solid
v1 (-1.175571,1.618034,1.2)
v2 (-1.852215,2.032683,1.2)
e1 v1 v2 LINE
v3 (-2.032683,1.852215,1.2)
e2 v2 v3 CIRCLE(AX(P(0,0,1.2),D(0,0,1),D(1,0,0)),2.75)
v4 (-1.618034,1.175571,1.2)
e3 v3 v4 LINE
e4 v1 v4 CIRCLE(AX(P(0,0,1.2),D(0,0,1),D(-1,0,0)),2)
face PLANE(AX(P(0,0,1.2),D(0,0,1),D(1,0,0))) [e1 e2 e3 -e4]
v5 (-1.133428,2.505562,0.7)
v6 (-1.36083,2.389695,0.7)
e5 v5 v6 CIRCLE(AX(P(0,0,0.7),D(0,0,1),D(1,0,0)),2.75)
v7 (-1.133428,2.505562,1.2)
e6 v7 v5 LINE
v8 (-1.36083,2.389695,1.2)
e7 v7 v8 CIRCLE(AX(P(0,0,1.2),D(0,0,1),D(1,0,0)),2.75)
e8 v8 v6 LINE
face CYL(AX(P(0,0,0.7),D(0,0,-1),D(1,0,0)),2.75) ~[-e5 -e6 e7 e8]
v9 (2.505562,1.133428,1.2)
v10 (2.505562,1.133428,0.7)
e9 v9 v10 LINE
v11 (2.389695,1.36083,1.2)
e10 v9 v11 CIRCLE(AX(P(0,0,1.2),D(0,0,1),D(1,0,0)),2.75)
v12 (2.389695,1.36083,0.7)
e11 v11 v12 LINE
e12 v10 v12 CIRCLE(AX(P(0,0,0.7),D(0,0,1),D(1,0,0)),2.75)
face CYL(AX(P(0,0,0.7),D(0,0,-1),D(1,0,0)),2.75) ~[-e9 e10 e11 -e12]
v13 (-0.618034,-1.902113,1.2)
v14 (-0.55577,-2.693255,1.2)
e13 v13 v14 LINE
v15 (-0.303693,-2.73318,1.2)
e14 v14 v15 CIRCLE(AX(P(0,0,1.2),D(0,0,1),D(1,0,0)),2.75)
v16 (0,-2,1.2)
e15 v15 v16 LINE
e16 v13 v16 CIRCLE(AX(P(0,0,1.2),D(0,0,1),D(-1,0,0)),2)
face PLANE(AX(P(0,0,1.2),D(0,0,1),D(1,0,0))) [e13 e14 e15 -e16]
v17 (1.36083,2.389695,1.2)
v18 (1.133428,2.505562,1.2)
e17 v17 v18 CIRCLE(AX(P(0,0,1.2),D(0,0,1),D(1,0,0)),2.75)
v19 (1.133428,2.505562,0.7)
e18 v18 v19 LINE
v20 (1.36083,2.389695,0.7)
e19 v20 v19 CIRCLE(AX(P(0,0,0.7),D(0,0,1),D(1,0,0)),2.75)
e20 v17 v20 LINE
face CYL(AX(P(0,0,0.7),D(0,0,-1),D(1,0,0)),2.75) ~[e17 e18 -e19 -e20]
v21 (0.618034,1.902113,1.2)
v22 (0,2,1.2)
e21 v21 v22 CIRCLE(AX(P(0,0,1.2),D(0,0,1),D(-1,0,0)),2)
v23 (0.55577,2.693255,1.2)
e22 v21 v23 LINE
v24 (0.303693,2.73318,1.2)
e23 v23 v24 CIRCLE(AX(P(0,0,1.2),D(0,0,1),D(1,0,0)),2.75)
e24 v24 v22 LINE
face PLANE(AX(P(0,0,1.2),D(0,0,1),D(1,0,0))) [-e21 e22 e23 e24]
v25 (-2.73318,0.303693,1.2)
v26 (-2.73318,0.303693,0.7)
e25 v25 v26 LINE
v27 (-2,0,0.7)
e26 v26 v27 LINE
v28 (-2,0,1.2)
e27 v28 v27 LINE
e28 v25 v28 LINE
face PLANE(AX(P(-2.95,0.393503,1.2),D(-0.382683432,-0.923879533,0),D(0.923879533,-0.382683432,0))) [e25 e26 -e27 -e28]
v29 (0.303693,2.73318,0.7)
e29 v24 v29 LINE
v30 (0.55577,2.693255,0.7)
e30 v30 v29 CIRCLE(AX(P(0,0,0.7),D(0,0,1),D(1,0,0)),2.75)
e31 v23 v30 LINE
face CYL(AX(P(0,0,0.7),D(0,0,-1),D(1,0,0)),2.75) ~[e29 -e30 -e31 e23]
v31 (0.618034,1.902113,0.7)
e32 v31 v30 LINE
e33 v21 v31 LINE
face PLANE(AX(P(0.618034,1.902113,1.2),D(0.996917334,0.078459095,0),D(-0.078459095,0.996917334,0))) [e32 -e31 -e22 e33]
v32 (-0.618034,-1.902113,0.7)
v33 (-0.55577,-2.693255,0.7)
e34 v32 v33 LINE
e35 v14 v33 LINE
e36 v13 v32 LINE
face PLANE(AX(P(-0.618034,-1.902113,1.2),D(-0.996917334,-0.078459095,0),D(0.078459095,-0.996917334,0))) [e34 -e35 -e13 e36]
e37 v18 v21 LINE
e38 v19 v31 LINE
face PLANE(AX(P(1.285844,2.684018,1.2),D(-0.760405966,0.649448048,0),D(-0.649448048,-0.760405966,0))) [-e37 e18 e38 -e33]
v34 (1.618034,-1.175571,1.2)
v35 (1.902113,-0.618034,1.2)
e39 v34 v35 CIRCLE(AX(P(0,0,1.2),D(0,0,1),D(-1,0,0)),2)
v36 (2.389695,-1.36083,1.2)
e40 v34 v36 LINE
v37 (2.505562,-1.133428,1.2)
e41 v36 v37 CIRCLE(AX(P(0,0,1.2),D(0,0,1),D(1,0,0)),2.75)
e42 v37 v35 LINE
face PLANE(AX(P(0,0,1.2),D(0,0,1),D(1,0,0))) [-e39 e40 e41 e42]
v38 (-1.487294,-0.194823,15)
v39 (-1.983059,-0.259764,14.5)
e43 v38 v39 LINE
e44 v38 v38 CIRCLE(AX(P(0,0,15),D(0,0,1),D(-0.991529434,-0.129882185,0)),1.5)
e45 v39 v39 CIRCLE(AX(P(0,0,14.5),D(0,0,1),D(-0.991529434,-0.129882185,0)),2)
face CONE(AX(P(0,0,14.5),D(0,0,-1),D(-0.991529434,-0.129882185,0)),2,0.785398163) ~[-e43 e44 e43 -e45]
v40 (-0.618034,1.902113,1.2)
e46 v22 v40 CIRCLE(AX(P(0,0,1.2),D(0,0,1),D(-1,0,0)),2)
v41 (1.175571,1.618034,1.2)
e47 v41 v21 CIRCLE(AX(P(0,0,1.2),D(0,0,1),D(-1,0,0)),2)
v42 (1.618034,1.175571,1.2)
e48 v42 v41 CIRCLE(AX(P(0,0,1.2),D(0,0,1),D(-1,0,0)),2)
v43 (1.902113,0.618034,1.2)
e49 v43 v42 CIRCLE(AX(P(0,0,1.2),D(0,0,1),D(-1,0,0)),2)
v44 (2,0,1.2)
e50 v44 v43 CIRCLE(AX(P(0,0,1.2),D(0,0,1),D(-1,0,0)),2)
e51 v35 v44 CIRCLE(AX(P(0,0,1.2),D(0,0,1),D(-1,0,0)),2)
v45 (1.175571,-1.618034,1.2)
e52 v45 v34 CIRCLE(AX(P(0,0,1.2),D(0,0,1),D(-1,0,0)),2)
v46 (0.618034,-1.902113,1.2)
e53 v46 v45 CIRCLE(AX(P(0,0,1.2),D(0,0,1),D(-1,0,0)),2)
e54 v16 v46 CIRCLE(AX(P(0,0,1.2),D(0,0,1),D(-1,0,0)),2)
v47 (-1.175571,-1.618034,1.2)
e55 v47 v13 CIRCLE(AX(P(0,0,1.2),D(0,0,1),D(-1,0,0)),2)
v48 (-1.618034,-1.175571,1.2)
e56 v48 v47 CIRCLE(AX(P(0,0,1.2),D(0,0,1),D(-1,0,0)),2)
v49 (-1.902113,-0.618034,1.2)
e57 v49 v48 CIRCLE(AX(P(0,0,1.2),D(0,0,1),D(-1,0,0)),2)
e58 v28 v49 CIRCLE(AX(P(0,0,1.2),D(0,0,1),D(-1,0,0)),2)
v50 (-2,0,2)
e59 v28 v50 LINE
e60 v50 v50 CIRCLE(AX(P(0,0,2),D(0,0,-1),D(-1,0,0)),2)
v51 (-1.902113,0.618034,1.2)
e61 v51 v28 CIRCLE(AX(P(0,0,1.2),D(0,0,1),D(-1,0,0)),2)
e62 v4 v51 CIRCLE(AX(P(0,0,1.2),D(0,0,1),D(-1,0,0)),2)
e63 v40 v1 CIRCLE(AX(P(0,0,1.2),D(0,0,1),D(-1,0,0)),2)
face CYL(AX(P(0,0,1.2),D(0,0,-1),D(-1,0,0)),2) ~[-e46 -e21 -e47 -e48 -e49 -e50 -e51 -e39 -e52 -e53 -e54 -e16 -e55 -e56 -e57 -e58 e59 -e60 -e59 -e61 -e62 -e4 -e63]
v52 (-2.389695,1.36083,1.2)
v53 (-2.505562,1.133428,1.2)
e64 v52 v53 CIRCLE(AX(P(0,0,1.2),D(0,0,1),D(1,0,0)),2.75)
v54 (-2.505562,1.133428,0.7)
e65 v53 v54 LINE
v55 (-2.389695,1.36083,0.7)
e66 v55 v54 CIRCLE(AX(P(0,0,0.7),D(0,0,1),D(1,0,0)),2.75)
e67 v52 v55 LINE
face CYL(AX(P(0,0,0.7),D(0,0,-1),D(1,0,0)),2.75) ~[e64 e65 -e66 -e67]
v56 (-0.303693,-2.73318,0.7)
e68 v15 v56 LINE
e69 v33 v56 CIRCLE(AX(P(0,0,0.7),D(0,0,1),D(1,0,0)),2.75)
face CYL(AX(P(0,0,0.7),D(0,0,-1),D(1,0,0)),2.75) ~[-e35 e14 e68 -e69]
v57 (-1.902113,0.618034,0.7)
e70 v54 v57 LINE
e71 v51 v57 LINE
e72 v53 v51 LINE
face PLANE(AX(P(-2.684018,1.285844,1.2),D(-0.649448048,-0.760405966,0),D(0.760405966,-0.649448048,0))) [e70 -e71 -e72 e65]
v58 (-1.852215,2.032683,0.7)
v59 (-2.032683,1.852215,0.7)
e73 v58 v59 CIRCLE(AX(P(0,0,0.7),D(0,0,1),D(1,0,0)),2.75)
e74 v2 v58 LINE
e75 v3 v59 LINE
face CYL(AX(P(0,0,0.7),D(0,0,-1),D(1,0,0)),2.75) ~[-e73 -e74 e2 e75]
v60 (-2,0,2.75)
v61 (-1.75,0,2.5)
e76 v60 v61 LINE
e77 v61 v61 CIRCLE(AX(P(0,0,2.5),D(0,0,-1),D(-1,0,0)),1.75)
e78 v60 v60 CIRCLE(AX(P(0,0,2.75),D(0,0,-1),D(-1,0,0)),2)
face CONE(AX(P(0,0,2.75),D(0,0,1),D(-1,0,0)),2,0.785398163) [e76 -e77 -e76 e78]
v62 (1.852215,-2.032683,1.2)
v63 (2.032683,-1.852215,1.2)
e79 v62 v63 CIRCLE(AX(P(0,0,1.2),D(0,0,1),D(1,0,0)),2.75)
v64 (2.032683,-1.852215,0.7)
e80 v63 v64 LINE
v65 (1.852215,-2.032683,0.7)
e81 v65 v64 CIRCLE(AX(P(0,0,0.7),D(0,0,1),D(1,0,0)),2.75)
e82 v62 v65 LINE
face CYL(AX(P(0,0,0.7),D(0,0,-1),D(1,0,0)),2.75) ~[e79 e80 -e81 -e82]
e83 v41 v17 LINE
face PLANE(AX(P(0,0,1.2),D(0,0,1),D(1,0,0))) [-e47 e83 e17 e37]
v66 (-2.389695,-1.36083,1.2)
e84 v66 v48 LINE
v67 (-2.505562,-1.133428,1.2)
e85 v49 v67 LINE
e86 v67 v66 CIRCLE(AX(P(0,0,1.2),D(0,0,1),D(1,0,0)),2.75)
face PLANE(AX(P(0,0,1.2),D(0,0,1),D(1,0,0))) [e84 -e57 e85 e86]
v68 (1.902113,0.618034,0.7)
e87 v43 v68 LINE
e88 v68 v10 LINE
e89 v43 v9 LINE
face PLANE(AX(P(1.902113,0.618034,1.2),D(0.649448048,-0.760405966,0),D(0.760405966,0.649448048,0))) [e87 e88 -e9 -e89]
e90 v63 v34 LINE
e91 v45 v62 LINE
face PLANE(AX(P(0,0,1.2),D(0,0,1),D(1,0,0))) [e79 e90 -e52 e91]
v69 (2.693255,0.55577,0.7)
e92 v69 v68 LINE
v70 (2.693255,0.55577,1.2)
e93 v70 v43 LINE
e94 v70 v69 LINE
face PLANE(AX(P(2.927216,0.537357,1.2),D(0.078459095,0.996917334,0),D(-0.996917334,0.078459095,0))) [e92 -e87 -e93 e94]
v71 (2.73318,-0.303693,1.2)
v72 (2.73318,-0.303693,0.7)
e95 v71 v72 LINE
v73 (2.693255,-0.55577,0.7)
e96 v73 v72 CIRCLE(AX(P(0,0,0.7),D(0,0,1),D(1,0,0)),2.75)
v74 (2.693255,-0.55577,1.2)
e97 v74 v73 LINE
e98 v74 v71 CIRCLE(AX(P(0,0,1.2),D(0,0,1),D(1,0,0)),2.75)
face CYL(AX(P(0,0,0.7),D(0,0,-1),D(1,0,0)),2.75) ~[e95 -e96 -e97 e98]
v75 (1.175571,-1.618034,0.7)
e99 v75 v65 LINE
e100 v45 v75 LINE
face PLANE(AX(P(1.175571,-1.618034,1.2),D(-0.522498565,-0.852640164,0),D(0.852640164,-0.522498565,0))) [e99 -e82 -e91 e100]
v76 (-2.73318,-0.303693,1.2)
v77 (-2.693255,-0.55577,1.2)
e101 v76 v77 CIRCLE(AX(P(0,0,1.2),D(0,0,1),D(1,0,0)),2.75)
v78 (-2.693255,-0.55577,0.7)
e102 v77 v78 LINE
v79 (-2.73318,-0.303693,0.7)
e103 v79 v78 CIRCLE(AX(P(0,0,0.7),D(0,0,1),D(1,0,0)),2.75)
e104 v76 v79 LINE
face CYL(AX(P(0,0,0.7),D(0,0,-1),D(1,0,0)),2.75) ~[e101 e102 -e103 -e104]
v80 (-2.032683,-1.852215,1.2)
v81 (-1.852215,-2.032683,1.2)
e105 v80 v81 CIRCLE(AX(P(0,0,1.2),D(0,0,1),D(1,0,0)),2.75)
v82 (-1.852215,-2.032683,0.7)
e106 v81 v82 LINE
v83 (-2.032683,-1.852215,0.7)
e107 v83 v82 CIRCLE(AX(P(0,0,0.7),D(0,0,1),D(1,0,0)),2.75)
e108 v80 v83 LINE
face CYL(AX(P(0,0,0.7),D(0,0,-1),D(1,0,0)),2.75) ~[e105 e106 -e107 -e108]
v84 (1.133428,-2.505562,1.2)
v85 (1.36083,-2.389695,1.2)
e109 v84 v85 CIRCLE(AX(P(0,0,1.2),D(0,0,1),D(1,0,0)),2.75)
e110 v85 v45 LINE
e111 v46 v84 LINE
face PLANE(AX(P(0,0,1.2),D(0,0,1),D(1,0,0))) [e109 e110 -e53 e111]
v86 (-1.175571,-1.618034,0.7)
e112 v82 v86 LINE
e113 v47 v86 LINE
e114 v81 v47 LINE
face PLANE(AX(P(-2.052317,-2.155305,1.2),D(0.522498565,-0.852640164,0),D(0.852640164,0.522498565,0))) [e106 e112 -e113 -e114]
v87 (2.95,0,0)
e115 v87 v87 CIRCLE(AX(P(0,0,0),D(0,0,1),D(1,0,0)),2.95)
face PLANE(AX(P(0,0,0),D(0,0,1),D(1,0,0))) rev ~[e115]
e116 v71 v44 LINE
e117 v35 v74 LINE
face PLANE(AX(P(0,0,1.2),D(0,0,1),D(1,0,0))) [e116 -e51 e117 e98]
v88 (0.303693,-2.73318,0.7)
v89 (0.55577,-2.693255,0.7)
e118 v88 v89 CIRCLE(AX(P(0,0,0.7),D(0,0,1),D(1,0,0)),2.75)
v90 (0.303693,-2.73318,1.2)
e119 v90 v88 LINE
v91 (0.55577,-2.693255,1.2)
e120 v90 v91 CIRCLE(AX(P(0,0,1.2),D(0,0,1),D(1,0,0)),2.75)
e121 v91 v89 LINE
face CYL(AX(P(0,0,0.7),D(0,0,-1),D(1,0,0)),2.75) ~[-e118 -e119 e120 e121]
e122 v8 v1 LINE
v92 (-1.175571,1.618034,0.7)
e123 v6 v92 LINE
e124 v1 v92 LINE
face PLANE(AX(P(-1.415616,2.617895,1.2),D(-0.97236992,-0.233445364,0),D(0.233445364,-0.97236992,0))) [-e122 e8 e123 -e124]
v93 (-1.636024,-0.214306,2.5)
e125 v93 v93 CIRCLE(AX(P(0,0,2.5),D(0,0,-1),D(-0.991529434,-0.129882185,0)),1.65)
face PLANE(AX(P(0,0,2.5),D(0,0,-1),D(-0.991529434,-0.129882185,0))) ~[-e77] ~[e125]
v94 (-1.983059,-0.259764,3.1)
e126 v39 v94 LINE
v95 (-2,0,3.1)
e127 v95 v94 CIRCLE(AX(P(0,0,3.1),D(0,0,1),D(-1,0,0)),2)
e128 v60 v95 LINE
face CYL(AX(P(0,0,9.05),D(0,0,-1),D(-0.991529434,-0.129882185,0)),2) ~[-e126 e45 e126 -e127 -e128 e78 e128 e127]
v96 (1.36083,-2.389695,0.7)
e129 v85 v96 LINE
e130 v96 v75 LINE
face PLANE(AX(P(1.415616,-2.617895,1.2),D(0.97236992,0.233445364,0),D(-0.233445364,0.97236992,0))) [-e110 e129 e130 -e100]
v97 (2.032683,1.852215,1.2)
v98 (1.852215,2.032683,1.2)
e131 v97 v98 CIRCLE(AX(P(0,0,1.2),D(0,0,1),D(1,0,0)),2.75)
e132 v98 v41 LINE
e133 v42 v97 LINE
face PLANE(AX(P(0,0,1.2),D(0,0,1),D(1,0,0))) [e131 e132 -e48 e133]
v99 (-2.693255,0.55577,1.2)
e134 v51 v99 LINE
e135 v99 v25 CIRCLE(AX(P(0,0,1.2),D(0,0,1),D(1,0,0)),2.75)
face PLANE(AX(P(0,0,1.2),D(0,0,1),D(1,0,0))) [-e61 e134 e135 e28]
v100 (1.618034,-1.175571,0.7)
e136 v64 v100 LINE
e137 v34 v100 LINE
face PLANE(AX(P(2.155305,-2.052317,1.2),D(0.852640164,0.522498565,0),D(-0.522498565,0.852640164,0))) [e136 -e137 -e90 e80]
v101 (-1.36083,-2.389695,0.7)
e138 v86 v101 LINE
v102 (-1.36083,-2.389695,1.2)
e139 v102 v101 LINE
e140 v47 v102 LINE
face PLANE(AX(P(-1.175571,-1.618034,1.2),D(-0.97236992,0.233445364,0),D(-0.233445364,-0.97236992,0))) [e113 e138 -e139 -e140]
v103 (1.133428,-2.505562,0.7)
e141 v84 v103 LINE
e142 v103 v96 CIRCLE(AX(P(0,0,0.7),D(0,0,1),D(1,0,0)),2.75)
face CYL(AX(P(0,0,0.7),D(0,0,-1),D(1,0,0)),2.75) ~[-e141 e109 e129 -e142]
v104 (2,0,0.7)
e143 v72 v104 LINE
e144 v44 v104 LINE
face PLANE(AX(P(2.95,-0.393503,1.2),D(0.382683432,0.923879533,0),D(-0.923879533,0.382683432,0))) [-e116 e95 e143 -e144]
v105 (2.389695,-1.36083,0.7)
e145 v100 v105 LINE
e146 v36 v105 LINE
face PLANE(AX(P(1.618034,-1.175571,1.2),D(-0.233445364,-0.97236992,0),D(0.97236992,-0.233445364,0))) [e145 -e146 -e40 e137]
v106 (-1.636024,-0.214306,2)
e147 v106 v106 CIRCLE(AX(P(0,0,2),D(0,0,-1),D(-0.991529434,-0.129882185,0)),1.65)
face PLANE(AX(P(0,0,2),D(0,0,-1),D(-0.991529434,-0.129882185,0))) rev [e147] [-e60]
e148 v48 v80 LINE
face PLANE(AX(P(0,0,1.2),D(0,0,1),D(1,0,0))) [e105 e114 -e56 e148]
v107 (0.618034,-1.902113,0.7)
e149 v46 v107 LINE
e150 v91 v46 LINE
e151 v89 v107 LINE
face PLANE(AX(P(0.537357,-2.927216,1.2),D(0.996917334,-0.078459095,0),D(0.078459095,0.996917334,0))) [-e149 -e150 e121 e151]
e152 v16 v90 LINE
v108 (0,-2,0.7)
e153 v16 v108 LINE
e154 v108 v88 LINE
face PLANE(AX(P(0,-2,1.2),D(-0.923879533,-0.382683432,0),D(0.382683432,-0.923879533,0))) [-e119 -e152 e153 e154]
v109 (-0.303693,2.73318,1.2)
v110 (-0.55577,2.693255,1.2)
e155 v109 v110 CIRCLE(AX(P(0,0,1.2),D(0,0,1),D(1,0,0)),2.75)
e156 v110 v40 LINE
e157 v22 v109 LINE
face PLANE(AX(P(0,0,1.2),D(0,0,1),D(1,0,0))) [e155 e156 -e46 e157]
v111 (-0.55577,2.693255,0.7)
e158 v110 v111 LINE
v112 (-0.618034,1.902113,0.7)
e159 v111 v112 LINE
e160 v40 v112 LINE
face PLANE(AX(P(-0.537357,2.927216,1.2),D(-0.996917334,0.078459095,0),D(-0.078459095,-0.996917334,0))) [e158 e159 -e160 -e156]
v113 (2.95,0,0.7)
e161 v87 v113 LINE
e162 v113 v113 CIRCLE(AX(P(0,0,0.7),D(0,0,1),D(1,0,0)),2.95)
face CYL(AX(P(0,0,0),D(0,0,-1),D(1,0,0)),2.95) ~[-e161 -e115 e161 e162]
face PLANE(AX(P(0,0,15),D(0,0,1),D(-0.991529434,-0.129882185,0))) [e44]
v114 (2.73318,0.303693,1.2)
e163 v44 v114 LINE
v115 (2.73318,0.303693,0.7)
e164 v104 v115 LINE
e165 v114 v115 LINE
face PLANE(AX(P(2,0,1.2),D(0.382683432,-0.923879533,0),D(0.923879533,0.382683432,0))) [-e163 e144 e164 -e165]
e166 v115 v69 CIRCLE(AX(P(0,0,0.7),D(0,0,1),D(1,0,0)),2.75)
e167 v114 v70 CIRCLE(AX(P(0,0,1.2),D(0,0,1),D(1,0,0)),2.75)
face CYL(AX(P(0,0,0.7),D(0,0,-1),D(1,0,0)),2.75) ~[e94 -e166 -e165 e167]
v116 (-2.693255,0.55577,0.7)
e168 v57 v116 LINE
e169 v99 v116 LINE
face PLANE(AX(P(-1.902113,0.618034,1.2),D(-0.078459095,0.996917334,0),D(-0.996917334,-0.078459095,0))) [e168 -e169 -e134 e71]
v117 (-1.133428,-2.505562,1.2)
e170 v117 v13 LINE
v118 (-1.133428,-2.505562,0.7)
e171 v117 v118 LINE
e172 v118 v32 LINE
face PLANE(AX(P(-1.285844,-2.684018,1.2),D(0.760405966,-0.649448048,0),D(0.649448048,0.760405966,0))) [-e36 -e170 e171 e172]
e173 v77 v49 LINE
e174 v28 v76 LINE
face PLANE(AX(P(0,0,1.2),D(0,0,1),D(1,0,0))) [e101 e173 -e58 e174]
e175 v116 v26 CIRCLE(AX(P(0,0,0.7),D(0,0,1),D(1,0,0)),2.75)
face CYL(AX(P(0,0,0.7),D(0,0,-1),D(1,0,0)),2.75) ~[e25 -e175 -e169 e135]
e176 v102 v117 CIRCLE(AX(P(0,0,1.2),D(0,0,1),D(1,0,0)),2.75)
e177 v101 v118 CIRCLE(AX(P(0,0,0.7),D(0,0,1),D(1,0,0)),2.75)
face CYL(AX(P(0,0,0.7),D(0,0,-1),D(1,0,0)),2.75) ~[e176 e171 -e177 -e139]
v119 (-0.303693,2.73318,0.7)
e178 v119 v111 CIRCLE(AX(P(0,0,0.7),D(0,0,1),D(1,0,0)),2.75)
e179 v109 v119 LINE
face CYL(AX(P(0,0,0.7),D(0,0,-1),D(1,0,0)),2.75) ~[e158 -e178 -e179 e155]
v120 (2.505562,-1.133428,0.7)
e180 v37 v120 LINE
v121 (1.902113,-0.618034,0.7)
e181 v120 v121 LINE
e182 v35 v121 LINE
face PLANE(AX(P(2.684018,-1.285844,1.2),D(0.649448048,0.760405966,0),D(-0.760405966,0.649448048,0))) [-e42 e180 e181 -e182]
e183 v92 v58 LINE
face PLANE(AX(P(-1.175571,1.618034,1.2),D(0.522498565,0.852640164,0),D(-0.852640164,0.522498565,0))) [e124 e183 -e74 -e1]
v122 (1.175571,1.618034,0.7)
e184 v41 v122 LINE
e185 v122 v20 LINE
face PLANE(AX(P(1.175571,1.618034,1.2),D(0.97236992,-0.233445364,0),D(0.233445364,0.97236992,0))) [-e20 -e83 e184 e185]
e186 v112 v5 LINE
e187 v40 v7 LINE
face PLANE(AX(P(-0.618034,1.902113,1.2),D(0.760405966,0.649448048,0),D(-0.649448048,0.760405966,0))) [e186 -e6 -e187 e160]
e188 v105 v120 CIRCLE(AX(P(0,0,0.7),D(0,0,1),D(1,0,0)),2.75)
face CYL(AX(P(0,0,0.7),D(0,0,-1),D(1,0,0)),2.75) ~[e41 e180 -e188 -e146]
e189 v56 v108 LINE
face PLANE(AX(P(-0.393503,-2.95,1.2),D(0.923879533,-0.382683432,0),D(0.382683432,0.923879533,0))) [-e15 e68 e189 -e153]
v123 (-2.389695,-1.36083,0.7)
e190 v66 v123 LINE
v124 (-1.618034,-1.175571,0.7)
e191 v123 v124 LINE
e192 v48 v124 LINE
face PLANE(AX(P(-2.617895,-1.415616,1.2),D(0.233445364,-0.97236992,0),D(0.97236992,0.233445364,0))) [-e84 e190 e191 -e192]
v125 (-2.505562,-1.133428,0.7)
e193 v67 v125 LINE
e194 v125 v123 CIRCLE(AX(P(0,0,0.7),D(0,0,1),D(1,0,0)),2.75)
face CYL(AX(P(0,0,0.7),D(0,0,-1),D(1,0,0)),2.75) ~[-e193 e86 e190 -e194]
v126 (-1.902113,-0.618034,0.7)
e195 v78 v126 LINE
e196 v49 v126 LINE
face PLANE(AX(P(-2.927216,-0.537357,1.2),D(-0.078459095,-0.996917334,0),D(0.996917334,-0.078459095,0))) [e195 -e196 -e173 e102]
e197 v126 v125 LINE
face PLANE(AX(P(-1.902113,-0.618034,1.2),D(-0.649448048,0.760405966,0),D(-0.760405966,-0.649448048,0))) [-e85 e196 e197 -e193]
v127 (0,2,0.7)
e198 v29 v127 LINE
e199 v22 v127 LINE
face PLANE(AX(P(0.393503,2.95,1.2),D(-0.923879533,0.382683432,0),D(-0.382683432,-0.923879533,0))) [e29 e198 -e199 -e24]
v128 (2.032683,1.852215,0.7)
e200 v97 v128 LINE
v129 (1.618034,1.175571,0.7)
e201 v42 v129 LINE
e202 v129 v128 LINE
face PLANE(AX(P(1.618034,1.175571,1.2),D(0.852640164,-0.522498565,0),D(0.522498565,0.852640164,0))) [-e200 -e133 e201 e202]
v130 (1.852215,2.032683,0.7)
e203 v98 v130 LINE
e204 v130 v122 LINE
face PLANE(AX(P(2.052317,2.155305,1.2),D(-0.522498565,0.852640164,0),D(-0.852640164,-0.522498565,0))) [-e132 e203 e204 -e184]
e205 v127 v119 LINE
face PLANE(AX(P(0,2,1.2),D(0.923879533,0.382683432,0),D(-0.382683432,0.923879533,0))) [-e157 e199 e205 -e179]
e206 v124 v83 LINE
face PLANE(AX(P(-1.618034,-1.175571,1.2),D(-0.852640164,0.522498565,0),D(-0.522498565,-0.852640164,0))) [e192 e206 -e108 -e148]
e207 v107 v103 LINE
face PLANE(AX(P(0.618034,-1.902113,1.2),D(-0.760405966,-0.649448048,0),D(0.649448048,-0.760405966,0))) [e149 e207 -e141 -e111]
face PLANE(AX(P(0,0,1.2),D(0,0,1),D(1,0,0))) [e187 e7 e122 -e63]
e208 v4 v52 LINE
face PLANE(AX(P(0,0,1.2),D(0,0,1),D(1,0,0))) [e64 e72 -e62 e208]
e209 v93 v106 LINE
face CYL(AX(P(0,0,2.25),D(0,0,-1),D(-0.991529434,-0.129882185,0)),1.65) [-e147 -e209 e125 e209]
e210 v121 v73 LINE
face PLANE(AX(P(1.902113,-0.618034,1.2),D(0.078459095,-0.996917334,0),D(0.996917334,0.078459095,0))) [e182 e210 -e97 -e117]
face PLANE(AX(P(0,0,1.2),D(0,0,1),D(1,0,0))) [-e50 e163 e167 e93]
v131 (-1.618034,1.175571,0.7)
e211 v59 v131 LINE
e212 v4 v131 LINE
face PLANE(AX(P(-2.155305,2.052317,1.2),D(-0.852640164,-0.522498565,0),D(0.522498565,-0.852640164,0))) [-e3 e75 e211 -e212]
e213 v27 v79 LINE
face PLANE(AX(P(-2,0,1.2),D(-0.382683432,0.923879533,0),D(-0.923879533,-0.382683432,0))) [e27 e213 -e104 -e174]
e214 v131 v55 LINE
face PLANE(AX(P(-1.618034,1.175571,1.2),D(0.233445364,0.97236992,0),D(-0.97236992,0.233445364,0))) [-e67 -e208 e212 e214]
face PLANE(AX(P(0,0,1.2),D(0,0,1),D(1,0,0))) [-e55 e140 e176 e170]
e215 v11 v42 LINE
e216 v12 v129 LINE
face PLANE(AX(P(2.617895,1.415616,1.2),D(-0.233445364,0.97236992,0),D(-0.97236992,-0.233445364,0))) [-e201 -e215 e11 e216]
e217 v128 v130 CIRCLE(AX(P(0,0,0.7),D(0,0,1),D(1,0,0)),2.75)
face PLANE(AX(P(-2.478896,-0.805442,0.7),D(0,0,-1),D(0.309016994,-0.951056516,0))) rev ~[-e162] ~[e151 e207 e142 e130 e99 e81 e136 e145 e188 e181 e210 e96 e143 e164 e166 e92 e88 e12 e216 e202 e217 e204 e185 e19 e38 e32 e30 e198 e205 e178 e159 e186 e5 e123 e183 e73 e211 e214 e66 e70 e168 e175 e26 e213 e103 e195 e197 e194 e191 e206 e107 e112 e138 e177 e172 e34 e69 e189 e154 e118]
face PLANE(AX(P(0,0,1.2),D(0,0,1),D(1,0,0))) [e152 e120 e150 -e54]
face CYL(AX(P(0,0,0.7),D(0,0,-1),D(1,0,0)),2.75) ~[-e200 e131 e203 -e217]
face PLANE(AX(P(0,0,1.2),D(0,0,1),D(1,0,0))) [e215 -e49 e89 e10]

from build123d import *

# Parameters (mm, degrees)
SKETCH_1_R               = 2.95
EXTRUDE_1_DEPTH          = 1.2
SKETCH_2_R               = 2
EXTRUDE_2_DEPTH          = 1.9
CUT_EXTRUDE_1_DEPTH      = 0.5
PATTERN_CIRCULAR_1_COUNT = 20
SKETCH_4_W               = 0.35
SKETCH_4_H               = 0.5
SKETCH_6_W               = 11.9
SKETCH_6_H               = 2
CHAMFER_2_SIZE           = 0.5
CUT_EXTRUDE_START        = -0.5
SKETCH_7_R               = 2.95
SKETCH_7_R_2             = 2.75
CUT_EXTRUDE_2_DEPTH      = 0.5
CHAMFER_3_SIZE           = 0.25


with BuildPart() as part:
    # Эскиз1 → Вытянуть1 (new body)
    with BuildSketch(Plane.XY):
        Circle(SKETCH_1_R)
    extrude(amount=EXTRUDE_1_DEPTH)

    # Эскиз2 → Вытянуть2 (add)
    with BuildSketch(Plane.XY.offset(1.2)):
        with Locations(Location((0, 0, 0), (0, 0, 180))):
            Circle(SKETCH_2_R)
    extrude(amount=EXTRUDE_2_DEPTH)

    # Эскиз3 → Вырез-Вытянуть1 (cut)
    with BuildSketch(Plane.XY.offset(1.2)):
        Polygon((-0.393502884, 2.95), (0.393502884, 2.95), (0, 2), align=None)
    cut_extrude_1 = extrude(amount=-CUT_EXTRUDE_1_DEPTH, mode=Mode.SUBTRACT)

    # Круговой массив1: Вырез-Вытянуть1 ×20 about axis
    pattern_circular_1_axis = Axis((0, 0, 0), (0, 0, 1))
    for i in range(1, PATTERN_CIRCULAR_1_COUNT):
        add(cut_extrude_1.rotate(pattern_circular_1_axis, i * 360 / PATTERN_CIRCULAR_1_COUNT), mode=Mode.SUBTRACT)

    # Эскиз4 → Вырез-Повернуть1 (revolve, cut)
    with BuildSketch(Plane(origin=(0, 0, 0), x_dir=(1, 0, 0), z_dir=(0, 1, 0)), mode=Mode.PRIVATE) as cut_revolve_1_sk:
        with Locations((1.825, -2.25)):
            Rectangle(SKETCH_4_W, SKETCH_4_H)
    revolve(cut_revolve_1_sk.sketch.rotate(Axis((0, 0, 10.642619983), (0, 0, -1)), 172.537215717), axis=Axis((0, 0, 10.642619983), (0, 0, -1)), mode=Mode.SUBTRACT)

    # Эскиз6 → Повернуть1 (revolve)
    with BuildSketch(Plane(origin=(0, 0, 0), x_dir=(0, 0, -1), z_dir=(1, 0, 0)), mode=Mode.PRIVATE) as revolve_1_sk:
        with Locations((-9.05, -1)):
            Rectangle(SKETCH_6_W, SKETCH_6_H)
    revolve(revolve_1_sk.sketch.rotate(Axis((0, 0, 3.1), (0, 0, 1)), 277.462784283), axis=Axis((0, 0, 3.1), (0, 0, 1)))

    # Фаска2
    chamfer_2_edges = [part.edges().sort_by_distance(p)[0] for p in [
        (1.983058868, 0.25976437, 15),
    ]]
    chamfer(chamfer_2_edges, length=CHAMFER_2_SIZE)

    # Эскиз7 → Вырез-Вытянуть2 (cut)
    with BuildSketch(Plane.XY.offset(1.2).offset(CUT_EXTRUDE_START)):
        with Locations(Location((0, 0, 0), (0, 0, 180))):
            Circle(SKETCH_7_R)
        Circle(SKETCH_7_R_2, mode=Mode.SUBTRACT)
    extrude(amount=CUT_EXTRUDE_2_DEPTH, mode=Mode.SUBTRACT)

    # Фаска3
    chamfer_3_edges = [part.edges().sort_by_distance(p)[0] for p in [
        (2, 0, 2.5),
    ]]
    chamfer(chamfer_3_edges, length=CHAMFER_3_SIZE)


solid = part.part
